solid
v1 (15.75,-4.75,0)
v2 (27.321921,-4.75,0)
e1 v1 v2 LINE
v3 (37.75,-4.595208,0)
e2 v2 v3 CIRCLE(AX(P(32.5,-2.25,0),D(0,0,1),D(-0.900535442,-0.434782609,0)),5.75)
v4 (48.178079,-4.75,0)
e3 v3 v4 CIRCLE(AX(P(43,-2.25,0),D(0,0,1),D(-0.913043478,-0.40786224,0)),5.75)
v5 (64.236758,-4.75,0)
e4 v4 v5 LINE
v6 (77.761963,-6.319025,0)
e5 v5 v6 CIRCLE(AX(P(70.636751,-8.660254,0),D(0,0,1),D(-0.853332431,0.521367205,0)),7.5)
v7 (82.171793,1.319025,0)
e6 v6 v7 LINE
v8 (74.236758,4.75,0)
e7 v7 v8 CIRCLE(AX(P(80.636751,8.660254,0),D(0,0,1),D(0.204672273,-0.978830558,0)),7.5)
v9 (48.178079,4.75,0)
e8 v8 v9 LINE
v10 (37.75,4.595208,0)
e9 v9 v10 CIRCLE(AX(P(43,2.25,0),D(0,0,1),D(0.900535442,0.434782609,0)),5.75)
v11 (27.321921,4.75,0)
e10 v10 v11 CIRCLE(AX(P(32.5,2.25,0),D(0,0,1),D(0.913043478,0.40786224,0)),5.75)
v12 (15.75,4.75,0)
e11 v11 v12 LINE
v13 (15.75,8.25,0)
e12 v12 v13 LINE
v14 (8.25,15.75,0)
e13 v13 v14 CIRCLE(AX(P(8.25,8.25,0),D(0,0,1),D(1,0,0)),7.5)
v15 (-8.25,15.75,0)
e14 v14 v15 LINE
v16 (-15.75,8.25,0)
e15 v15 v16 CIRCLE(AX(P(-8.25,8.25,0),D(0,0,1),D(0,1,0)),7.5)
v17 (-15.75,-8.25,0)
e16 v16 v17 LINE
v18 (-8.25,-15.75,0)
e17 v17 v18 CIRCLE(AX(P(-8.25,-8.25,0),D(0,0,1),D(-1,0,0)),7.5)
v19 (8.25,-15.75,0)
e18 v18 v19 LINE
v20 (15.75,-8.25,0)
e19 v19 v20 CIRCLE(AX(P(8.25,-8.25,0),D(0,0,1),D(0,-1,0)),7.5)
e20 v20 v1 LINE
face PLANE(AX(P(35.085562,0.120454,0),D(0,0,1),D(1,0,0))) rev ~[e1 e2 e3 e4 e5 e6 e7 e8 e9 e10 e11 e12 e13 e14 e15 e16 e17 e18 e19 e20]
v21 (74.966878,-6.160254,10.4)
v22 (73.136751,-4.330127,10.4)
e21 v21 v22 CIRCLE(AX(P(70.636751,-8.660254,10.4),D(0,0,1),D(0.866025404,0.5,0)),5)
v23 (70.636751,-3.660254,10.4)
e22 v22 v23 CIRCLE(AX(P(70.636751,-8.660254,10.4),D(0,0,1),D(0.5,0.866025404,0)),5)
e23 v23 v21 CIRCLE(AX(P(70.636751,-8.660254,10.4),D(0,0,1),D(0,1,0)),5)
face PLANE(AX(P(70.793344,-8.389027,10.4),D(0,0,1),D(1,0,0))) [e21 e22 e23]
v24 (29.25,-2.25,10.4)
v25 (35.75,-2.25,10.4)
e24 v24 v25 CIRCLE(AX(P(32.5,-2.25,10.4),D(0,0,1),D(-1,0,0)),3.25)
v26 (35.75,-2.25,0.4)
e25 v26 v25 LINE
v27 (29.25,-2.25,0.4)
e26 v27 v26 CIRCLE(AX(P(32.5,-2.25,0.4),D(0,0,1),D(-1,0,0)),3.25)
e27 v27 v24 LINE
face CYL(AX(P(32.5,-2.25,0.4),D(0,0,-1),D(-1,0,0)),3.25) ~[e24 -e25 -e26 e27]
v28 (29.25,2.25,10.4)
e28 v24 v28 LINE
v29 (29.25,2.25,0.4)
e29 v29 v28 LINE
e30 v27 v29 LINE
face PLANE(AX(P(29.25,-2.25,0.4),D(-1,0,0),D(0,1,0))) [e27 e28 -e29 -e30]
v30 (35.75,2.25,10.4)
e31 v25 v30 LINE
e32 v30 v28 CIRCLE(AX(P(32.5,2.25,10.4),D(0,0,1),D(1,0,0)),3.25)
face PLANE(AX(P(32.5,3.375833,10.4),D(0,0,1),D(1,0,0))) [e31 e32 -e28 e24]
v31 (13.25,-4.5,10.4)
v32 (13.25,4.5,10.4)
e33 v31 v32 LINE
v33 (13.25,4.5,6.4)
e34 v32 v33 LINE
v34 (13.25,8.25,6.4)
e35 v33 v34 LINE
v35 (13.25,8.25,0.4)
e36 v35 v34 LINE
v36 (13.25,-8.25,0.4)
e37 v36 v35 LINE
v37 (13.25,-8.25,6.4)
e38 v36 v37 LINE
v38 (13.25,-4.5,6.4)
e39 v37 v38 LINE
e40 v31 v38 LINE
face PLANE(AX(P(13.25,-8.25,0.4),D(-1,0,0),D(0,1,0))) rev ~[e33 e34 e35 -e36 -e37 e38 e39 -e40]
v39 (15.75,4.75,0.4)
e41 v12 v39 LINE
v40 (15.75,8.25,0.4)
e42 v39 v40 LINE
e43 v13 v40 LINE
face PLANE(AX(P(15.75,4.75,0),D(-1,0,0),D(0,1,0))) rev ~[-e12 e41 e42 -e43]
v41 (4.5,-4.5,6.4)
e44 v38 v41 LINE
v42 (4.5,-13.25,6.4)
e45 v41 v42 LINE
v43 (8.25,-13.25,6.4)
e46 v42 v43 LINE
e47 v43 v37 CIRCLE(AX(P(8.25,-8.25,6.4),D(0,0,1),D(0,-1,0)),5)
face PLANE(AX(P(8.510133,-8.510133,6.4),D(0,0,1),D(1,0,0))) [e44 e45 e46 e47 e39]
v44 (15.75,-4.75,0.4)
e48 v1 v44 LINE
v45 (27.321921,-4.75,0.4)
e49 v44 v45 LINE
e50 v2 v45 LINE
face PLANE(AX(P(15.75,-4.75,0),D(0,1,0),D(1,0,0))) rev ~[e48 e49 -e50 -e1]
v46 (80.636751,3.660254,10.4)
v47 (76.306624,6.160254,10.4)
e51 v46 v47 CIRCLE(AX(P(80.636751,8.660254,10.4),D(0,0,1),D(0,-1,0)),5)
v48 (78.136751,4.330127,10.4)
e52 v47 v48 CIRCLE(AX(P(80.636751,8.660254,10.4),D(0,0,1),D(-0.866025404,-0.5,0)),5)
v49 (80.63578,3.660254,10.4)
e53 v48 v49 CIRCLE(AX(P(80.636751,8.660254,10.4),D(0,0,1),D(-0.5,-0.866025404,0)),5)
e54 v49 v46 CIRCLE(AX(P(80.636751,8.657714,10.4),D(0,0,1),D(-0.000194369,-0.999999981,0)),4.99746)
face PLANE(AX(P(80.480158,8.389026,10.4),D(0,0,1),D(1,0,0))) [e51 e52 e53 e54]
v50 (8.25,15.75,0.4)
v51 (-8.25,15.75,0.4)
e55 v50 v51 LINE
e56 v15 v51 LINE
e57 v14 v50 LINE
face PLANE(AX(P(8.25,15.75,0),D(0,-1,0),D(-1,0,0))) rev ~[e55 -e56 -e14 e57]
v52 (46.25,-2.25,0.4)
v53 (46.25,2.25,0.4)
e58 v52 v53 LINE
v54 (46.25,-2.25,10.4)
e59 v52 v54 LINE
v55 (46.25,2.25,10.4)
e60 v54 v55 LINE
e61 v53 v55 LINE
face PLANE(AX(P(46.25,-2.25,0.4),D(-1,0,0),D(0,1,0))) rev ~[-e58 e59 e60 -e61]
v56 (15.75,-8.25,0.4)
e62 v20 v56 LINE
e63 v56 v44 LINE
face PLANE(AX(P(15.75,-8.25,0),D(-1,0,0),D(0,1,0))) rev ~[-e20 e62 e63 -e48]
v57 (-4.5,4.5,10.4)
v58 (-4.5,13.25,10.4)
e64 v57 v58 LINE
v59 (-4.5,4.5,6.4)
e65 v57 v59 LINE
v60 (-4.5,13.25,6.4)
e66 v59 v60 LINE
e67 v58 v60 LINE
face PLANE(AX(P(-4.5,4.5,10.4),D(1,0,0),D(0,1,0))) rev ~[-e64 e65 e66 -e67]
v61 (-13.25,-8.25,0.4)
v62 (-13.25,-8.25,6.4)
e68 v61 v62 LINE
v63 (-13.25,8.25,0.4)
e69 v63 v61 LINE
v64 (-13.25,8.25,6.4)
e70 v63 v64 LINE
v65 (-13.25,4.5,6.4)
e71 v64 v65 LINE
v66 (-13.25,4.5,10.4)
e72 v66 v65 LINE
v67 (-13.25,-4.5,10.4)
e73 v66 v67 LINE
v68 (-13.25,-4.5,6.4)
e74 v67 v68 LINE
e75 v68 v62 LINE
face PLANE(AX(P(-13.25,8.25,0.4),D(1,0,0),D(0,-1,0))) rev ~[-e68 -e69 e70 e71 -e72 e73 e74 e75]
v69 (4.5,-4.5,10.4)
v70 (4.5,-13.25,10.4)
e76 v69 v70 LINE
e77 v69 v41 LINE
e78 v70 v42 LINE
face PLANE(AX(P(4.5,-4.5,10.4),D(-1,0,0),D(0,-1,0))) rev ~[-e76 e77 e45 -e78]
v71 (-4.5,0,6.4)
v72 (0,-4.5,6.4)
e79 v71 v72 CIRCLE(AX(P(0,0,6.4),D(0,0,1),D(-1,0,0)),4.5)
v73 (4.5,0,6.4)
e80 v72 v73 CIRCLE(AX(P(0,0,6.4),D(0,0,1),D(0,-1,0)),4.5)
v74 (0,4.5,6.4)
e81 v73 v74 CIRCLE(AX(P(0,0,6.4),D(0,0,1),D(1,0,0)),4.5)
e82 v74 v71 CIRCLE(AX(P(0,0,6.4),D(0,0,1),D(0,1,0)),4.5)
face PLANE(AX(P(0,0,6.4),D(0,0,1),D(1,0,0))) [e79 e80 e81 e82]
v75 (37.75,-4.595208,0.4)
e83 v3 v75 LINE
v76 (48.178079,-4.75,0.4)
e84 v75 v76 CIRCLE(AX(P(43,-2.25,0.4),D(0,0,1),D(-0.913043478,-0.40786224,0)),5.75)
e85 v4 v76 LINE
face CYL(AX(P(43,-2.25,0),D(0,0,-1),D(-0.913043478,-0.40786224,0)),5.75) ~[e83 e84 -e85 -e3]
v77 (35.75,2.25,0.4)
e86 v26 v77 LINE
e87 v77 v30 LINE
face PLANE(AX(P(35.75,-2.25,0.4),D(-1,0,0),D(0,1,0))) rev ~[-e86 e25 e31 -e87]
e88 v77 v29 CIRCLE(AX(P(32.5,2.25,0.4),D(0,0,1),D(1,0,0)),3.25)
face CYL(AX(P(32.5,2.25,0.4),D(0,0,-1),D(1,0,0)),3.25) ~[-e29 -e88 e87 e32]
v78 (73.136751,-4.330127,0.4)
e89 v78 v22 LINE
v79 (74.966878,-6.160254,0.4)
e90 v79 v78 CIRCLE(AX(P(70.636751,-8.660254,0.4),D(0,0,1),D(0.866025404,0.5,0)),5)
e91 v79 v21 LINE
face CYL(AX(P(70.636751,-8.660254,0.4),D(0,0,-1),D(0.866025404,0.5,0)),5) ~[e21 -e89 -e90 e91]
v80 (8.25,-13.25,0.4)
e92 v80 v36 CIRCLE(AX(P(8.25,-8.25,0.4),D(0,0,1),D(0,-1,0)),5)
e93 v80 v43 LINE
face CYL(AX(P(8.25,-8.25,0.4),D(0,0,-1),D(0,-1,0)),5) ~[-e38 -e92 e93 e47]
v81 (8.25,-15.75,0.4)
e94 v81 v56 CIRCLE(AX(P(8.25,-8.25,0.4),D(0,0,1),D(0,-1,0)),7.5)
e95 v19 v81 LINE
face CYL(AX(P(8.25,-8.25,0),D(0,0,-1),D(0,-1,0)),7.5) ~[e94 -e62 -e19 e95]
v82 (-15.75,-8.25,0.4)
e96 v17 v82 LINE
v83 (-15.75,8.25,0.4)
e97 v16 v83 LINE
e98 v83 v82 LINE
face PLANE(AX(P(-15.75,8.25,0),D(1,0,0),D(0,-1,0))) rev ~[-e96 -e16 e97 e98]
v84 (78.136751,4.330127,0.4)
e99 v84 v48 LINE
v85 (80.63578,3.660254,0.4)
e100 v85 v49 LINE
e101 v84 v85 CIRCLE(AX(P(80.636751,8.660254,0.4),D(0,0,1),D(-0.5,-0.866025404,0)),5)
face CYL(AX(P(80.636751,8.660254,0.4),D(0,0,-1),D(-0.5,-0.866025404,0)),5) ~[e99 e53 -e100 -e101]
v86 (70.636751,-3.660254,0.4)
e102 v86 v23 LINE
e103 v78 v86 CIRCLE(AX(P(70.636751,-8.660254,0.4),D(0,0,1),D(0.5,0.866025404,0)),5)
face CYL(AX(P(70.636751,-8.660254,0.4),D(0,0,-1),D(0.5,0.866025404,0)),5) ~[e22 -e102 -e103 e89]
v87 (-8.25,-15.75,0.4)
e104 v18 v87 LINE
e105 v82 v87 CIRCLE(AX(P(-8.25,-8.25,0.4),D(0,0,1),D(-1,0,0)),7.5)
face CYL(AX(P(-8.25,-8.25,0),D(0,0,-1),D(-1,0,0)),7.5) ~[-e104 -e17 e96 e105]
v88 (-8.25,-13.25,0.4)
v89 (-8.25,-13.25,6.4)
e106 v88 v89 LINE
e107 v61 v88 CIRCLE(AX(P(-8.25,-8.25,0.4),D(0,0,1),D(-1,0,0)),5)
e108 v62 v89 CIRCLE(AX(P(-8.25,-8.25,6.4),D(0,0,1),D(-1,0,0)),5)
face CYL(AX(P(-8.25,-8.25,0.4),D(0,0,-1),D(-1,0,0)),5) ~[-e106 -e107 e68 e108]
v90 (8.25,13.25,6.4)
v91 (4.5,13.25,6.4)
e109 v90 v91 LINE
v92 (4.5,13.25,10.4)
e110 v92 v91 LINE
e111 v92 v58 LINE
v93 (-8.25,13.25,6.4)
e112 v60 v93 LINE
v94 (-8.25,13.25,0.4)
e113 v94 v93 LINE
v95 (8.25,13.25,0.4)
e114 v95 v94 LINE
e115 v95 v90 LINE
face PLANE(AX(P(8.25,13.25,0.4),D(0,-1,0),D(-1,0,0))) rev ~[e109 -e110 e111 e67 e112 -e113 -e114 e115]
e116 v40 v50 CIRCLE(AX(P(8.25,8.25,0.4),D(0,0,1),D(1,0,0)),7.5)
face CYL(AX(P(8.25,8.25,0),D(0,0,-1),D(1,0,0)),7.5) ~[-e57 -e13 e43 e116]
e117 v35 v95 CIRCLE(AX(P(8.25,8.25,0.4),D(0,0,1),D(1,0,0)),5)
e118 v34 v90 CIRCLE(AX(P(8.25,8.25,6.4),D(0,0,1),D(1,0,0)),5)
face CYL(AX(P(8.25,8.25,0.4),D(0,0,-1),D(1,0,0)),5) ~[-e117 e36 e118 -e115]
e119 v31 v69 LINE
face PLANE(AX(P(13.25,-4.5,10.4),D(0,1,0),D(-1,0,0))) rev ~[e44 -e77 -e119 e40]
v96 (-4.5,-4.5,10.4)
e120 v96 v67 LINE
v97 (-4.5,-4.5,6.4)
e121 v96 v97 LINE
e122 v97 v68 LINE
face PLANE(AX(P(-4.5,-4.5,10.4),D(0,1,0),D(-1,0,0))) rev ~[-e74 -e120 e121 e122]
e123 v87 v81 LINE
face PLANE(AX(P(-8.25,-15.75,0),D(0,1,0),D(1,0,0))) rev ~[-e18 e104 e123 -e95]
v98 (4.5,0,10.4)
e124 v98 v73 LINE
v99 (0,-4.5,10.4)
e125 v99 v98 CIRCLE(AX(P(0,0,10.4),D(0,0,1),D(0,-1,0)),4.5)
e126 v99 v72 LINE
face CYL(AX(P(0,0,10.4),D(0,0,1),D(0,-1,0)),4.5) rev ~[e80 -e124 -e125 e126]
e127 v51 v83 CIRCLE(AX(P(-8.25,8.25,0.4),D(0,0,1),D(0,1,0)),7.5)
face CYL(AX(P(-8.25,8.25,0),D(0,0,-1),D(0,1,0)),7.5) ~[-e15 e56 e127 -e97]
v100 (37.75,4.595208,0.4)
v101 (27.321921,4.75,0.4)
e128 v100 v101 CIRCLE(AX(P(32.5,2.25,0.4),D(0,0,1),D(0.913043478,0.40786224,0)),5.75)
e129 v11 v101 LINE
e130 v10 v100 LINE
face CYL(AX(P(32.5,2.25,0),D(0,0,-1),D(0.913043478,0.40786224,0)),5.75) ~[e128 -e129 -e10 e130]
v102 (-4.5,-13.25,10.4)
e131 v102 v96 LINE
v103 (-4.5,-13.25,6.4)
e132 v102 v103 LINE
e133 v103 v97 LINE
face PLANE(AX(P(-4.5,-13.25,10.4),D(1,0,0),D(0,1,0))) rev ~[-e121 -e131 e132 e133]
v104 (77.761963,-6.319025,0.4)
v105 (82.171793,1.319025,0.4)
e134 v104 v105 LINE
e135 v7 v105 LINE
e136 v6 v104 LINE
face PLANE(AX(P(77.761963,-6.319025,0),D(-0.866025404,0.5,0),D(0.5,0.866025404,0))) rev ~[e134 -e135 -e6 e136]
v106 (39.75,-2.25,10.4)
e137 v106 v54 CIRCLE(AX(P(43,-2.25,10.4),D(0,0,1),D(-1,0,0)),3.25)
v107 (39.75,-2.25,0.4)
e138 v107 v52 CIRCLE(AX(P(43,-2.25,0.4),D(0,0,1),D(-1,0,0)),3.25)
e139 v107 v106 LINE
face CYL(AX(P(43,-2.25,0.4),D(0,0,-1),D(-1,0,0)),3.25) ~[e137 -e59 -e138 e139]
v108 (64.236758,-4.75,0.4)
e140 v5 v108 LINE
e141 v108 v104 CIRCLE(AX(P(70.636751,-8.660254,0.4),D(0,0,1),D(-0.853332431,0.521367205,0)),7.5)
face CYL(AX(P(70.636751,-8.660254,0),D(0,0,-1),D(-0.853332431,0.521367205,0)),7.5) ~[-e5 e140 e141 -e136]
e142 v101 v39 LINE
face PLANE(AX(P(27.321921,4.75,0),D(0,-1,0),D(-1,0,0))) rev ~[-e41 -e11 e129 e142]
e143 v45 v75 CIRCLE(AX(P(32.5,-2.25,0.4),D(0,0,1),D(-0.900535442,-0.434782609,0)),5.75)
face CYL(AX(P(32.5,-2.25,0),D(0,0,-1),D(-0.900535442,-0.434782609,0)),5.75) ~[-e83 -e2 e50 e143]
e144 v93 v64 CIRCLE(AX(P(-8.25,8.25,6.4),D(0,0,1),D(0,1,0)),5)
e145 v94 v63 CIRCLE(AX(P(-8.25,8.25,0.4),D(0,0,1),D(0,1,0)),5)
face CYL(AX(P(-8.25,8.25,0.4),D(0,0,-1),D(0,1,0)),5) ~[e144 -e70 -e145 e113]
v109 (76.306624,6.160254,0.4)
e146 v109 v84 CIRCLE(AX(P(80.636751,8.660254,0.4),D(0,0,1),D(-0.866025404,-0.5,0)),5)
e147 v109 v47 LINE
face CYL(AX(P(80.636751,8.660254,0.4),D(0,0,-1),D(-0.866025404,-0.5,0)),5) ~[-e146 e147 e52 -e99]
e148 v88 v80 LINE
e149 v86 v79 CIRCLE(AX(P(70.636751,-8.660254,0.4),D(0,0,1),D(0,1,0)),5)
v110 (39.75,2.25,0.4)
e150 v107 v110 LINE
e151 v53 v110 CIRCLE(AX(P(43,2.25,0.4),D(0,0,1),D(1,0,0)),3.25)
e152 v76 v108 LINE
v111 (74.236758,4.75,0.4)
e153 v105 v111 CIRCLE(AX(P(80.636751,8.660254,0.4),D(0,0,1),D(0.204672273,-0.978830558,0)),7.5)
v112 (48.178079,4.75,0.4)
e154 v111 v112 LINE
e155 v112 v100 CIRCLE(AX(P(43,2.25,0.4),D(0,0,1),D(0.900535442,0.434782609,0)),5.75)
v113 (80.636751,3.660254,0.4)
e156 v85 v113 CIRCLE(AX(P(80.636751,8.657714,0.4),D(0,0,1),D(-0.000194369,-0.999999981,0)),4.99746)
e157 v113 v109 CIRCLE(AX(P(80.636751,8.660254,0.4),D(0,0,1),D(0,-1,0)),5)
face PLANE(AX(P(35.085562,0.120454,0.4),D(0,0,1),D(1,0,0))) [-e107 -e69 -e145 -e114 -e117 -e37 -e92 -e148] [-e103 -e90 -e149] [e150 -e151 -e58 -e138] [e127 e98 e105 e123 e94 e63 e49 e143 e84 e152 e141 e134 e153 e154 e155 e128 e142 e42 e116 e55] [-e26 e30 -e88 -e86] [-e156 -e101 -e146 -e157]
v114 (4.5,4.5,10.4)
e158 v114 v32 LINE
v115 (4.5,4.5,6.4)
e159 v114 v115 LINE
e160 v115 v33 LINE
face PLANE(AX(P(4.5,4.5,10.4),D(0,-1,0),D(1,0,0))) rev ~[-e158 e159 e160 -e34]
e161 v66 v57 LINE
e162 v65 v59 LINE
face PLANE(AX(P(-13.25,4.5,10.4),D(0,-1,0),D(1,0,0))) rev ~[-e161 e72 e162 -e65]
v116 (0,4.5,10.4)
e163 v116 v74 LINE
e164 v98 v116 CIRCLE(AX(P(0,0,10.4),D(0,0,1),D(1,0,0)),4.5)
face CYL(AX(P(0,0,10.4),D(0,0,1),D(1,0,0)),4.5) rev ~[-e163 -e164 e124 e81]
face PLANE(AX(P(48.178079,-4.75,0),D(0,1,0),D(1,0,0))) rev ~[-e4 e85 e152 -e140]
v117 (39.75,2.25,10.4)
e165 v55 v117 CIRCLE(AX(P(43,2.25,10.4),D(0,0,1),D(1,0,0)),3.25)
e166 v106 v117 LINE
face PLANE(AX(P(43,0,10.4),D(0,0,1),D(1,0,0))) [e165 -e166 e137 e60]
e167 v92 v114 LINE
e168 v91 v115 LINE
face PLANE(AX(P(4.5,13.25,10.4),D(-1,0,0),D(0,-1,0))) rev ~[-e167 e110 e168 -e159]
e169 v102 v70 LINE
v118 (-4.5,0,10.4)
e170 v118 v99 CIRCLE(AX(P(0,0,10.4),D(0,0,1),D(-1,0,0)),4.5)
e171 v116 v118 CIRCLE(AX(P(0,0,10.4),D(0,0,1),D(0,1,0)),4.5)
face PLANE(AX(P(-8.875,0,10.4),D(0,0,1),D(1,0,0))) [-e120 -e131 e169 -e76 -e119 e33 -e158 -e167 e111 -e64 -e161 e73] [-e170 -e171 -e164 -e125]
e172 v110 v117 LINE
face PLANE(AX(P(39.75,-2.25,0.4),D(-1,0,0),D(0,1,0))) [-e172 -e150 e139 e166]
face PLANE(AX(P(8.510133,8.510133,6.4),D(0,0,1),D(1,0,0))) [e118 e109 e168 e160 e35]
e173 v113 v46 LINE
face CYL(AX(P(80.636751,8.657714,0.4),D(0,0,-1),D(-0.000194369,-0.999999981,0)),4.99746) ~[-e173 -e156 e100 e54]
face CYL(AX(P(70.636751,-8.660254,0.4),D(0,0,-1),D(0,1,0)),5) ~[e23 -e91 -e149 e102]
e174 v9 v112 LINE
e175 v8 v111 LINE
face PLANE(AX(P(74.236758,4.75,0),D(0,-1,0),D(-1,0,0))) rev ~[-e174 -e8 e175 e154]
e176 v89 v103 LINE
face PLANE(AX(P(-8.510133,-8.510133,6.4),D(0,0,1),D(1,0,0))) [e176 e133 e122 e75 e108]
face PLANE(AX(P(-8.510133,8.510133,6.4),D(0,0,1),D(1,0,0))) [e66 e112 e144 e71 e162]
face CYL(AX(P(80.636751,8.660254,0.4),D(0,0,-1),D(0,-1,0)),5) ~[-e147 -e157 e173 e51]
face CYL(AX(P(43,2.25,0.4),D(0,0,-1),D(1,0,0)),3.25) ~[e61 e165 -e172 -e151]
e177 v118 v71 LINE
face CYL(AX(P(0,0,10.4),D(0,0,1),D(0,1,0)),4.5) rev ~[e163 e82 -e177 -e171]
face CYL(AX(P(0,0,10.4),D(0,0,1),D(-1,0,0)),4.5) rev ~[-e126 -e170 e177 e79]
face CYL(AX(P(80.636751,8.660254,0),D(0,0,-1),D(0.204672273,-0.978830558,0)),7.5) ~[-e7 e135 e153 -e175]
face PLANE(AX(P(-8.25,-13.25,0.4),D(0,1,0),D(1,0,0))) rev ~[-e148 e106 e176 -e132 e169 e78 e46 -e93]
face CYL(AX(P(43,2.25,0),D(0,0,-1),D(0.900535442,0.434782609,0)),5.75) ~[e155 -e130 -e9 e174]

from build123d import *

# Parameters (mm, degrees)
F0_W     = 16
F0_H     = 4.5
F0_W_2   = 6.5
F0_W_3   = 4
F1_DEPTH = 0.4
F2_W     = 6.5
F2_H     = 4.5
F3_DEPTH = 10
F5_DEPTH = 4


with BuildPart() as f1:
    # F0 (on Top) → F1 (new body)
    with BuildSketch(Plane.XY):
        with BuildLine():
            Line((15.75, 4.75), (15.75, 8.25))
            ThreePointArc((15.75, 8.25), (13.5533008589, 13.5533008589), (8.25, 15.75))
            Line((8.25, 15.75), (-8.25, 15.75))
            ThreePointArc((-8.25, 15.75), (-13.5533008589, 13.5533008589), (-15.75, 8.25))
            Line((-15.75, 8.25), (-15.75, -8.25))
            ThreePointArc((-15.75, -8.25), (-13.5533008589, -13.5533008589), (-8.25, -15.75))
            Line((-8.25, -15.75), (8.25, -15.75))
            ThreePointArc((8.25, -15.75), (13.5533008589, -13.5533008589), (15.75, -8.25))
            Line((15.75, -8.25), (15.75, -4.75))
            Line((15.75, -4.75), (27.3219212057, -4.75))
            ThreePointArc((27.3219212057, -4.75), (32.5853423404, -7.9993666334), (37.75, -4.5952078799))
            ThreePointArc((37.75, -4.5952078799), (42.9146576596, -7.9993666334), (48.1780787943, -4.75))
            Line((48.1780787943, -4.75), (64.2367581147, -4.75))
            ThreePointArc((64.2367581147, -4.75), (69.772491367, -16.1102912652), (77.7619633367, -6.3190248551))
            Line((77.7619633367, -6.3190248551), (82.171793393, 1.3190248551))
            ThreePointArc((82.171793393, 1.3190248551), (83.6132988623, 15.5443055254), (74.2367581147, 4.75))
            Line((74.2367581147, 4.75), (48.1780787943, 4.75))
            ThreePointArc((48.1780787943, 4.75), (42.9146576596, 7.9993666334), (37.75, 4.5952078799))
            ThreePointArc((37.75, 4.5952078799), (32.5853423404, 7.9993666334), (27.3219212057, 4.75))
            Line((27.3219212057, 4.75), (15.75, 4.75))
        make_face()
        with BuildLine():
            ThreePointArc((-13.25, 8.25), (-11.7855339059, 11.7855339059), (-8.25, 13.25))
            Line((-8.25, 13.25), (-4.5, 13.25))
            Line((-4.5, 13.25), (4.5, 13.25))
            Line((4.5, 13.25), (8.25, 13.25))
            ThreePointArc((8.25, 13.25), (11.7855339059, 11.7855339059), (13.25, 8.25))
            Line((13.25, 8.25), (13.25, 4.5))
            Line((13.25, 4.5), (13.25, 2.25))
            Line((13.25, 2.25), (29.25, 2.25))
            ThreePointArc((29.25, 2.25), (32.5, 5.5), (35.75, 2.25))
            Line((35.75, 2.25), (39.75, 2.25))
            ThreePointArc((39.75, 2.25), (43, 5.5), (46.25, 2.25))
            Line((46.25, 2.25), (74.0490381057, 2.25))
            Line((74.0490381057, 2.25), (76.306624327, 6.1602540378))
            ThreePointArc((76.306624327, 6.1602540378), (83.1367513459, 12.9903810568), (80.6367513459, 3.6602540378))
            Line((80.6367513459, 3.6602540378), (74.9668783649, -6.1602540378))
            ThreePointArc((74.9668783649, -6.1602540378), (68.1367513459, -12.9903810568), (70.6367513459, -3.6602540378))
            Line((70.6367513459, -3.6602540378), (71.4509618943, -2.25))
            Line((71.4509618943, -2.25), (46.25, -2.25))
            ThreePointArc((46.25, -2.25), (43, -5.5), (39.75, -2.25))
            Line((39.75, -2.25), (35.75, -2.25))
            ThreePointArc((35.75, -2.25), (32.5, -5.5), (29.25, -2.25))
            Line((29.25, -2.25), (13.25, -2.25))
            Line((13.25, -2.25), (13.25, -4.5))
            Line((13.25, -4.5), (13.25, -8.25))
            ThreePointArc((13.25, -8.25), (11.7855339059, -11.7855339059), (8.25, -13.25))
            Line((8.25, -13.25), (4.5, -13.25))
            Line((4.5, -13.25), (-4.5, -13.25))
            Line((-4.5, -13.25), (-8.25, -13.25))
            ThreePointArc((-8.25, -13.25), (-11.7855339059, -11.7855339059), (-13.25, -8.25))
            Line((-13.25, -8.25), (-13.25, -4.5))
            Line((-13.25, -4.5), (-13.25, 4.5))
            Line((-13.25, 4.5), (-13.25, 8.25))
        make_face(mode=Mode.SUBTRACT)
        Polygon((74.0490381057, 2.25), (46.25, 2.25), (46.25, -2.25), (71.4509618943, -2.25), align=None)
        Polygon((13.25, 4.5), (4.5, 4.5), (4.5, 0), (4.5, -4.5), (13.25, -4.5), (13.25, -2.25), (13.25, 2.25), align=None)
        Polygon((-4.5, 0), (-4.5, 4.5), (-13.25, 4.5), (-13.25, -4.5), (-4.5, -4.5), align=None)
        Polygon((4.5, -4.5), (0, -4.5), (-4.5, -4.5), (-4.5, -13.25), (4.5, -13.25), align=None)
        Polygon((4.5, 13.25), (-4.5, 13.25), (-4.5, 4.5), (0, 4.5), (4.5, 4.5), align=None)
        with BuildLine():
            ThreePointArc((74.9668783649, -6.1602540378), (73.1367513459, -4.3301270189), (70.6367513459, -3.6602540378))
            ThreePointArc((70.6367513459, -3.6602540378), (68.1367513459, -12.9903810568), (74.9668783649, -6.1602540378))
        make_face()
        with BuildLine():
            ThreePointArc((80.6367513459, 3.6602540378), (83.1367513459, 12.9903810568), (76.306624327, 6.1602540378))
            ThreePointArc((76.306624327, 6.1602540378), (78.1363307509, 4.3303698768), (80.6357799962, 3.6602541322))
            ThreePointArc((80.6357799962, 3.6602541322), (80.6362656711, 3.6602540614), (80.6367513459, 3.6602540378))
        make_face()
        with Locations((21.25, 0)):
            Rectangle(F0_W, F0_H)
        with BuildLine():
            Line((-4.5, -4.5), (-13.25, -4.5))
            Line((-13.25, -4.5), (-13.25, -8.25))
            ThreePointArc((-13.25, -8.25), (-11.7855339059, -11.7855339059), (-8.25, -13.25))
            Line((-8.25, -13.25), (-4.5, -13.25))
            Line((-4.5, -13.25), (-4.5, -4.5))
        make_face()
        with BuildLine():
            Line((13.25, -4.5), (4.5, -4.5))
            Line((4.5, -4.5), (4.5, -13.25))
            Line((4.5, -13.25), (8.25, -13.25))
            ThreePointArc((8.25, -13.25), (11.7855339059, -11.7855339059), (13.25, -8.25))
            Line((13.25, -8.25), (13.25, -4.5))
        make_face()
        with BuildLine():
            Line((8.25, 13.25), (4.5, 13.25))
            Line((4.5, 13.25), (4.5, 4.5))
            Line((4.5, 4.5), (13.25, 4.5))
            Line((13.25, 4.5), (13.25, 8.25))
            ThreePointArc((13.25, 8.25), (11.7855339059, 11.7855339059), (8.25, 13.25))
        make_face()
        with BuildLine():
            Line((-4.5, 13.25), (-8.25, 13.25))
            ThreePointArc((-8.25, 13.25), (-11.7855339059, 11.7855339059), (-13.25, 8.25))
            Line((-13.25, 8.25), (-13.25, 4.5))
            Line((-13.25, 4.5), (-4.5, 4.5))
            Line((-4.5, 4.5), (-4.5, 13.25))
        make_face()
        with BuildLine():
            ThreePointArc((0, 4.5), (-3.1819805153, 3.1819805153), (-4.5, 0))
            ThreePointArc((-4.5, 0), (-3.1819805153, -3.1819805153), (0, -4.5))
            ThreePointArc((0, -4.5), (3.1819805153, -3.1819805153), (4.5, 0))
            ThreePointArc((4.5, 0), (3.1819805153, 3.1819805153), (0, 4.5))
        make_face()
        with BuildLine():
            Line((76.306624327, 6.1602540378), (74.0490381057, 2.25))
            Line((74.0490381057, 2.25), (71.4509618943, -2.25))
            Line((71.4509618943, -2.25), (70.6367513459, -3.6602540378))
            ThreePointArc((70.6367513459, -3.6602540378), (73.1367513459, -4.3301270189), (74.9668783649, -6.1602540378))
            Line((74.9668783649, -6.1602540378), (80.6367513459, 3.6602540378))
            ThreePointArc((80.6367513459, 3.6602540378), (80.6362656711, 3.6602540614), (80.6357799962, 3.6602541322))
            ThreePointArc((80.6357799962, 3.6602541322), (78.1363307509, 4.3303698768), (76.306624327, 6.1602540378))
        make_face()
        with Locations((32.5, 0)):
            Rectangle(F0_W_2, F0_H)
        with Locations((43, 0)):
            Rectangle(F0_W_2, F0_H)
        with Locations((37.75, 0)):
            Rectangle(F0_W_3, F0_H)
        with BuildLine():
            ThreePointArc((35.75, 2.25), (32.5, 5.5), (29.25, 2.25))
            Line((29.25, 2.25), (35.75, 2.25))
        make_face()
        with BuildLine():
            ThreePointArc((46.25, 2.25), (43, 5.5), (39.75, 2.25))
            Line((39.75, 2.25), (46.25, 2.25))
        make_face()
        with BuildLine():
            Line((35.75, -2.25), (29.25, -2.25))
            ThreePointArc((29.25, -2.25), (32.5, -5.5), (35.75, -2.25))
        make_face()
        with BuildLine():
            Line((46.25, -2.25), (39.75, -2.25))
            ThreePointArc((39.75, -2.25), (43, -5.5), (46.25, -2.25))
        make_face()
        with BuildLine():
            ThreePointArc((0, -4.5), (-3.1819805153, -3.1819805153), (-4.5, 0))
            Line((-4.5, 0), (-4.5, -4.5))
            Line((-4.5, -4.5), (0, -4.5))
        make_face()
        with BuildLine():
            Line((0, 4.5), (-4.5, 4.5))
            Line((-4.5, 4.5), (-4.5, 0))
            ThreePointArc((-4.5, 0), (-3.1819805153, 3.1819805153), (0, 4.5))
        make_face()
        with BuildLine():
            Line((4.5, 0), (4.5, 4.5))
            Line((4.5, 4.5), (0, 4.5))
            ThreePointArc((0, 4.5), (3.1819805153, 3.1819805153), (4.5, 0))
        make_face()
        with BuildLine():
            Line((4.5, -4.5), (4.5, 0))
            ThreePointArc((4.5, 0), (3.1819805153, -3.1819805153), (0, -4.5))
            Line((0, -4.5), (4.5, -4.5))
        make_face()
    extrude(amount=F1_DEPTH)

    # F2 (on face) → F3 (join)
    with BuildSketch(Plane.XY.offset(0.4)):
        Polygon((-4.5, 0), (-4.5, 4.5), (-13.25, 4.5), (-13.25, -4.5), (-4.5, -4.5), align=None)
        with BuildLine():
            ThreePointArc((35.75, 2.25), (32.5, 5.5), (29.25, 2.25))
            Line((29.25, 2.25), (35.75, 2.25))
        make_face()
        with Locations((32.5, 0)):
            Rectangle(F2_W, F2_H)
        with BuildLine():
            Line((35.75, -2.25), (29.25, -2.25))
            ThreePointArc((29.25, -2.25), (32.5, -5.5), (35.75, -2.25))
        make_face()
        with BuildLine():
            Line((-4.5, -4.5), (-13.25, -4.5))
            Line((-13.25, -4.5), (-13.25, -8.25))
            ThreePointArc((-13.25, -8.25), (-11.7855339059, -11.7855339059), (-8.25, -13.25))
            Line((-8.25, -13.25), (-4.5, -13.25))
            Line((-4.5, -13.25), (-4.5, -4.5))
        make_face()
        Polygon((4.5, -4.5), (0, -4.5), (-4.5, -4.5), (-4.5, -13.25), (4.5, -13.25), align=None)
        with BuildLine():
            Line((13.25, -4.5), (4.5, -4.5))
            Line((4.5, -4.5), (4.5, -13.25))
            Line((4.5, -13.25), (8.25, -13.25))
            ThreePointArc((8.25, -13.25), (11.7855339059, -11.7855339059), (13.25, -8.25))
            Line((13.25, -8.25), (13.25, -4.5))
        make_face()
        Polygon((13.25, 4.5), (4.5, 4.5), (4.5, 0), (4.5, -4.5), (13.25, -4.5), (13.25, -2.25), (13.25, 2.25), align=None)
        with BuildLine():
            ThreePointArc((0, 4.5), (-3.1819805153, 3.1819805153), (-4.5, 0))
            ThreePointArc((-4.5, 0), (-3.1819805153, -3.1819805153), (0, -4.5))
            ThreePointArc((0, -4.5), (3.1819805153, -3.1819805153), (4.5, 0))
            ThreePointArc((4.5, 0), (3.1819805153, 3.1819805153), (0, 4.5))
        make_face()
        with BuildLine():
            Line((4.5, -4.5), (4.5, 0))
            ThreePointArc((4.5, 0), (3.1819805153, -3.1819805153), (0, -4.5))
            Line((0, -4.5), (4.5, -4.5))
        make_face()
        with BuildLine():
            ThreePointArc((0, -4.5), (-3.1819805153, -3.1819805153), (-4.5, 0))
            Line((-4.5, 0), (-4.5, -4.5))
            Line((-4.5, -4.5), (0, -4.5))
        make_face()
        with BuildLine():
            Line((0, 4.5), (-4.5, 4.5))
            Line((-4.5, 4.5), (-4.5, 0))
            ThreePointArc((-4.5, 0), (-3.1819805153, 3.1819805153), (0, 4.5))
        make_face()
        Polygon((4.5, 13.25), (-4.5, 13.25), (-4.5, 4.5), (0, 4.5), (4.5, 4.5), align=None)
        with BuildLine():
            Line((-4.5, 13.25), (-8.25, 13.25))
            ThreePointArc((-8.25, 13.25), (-11.7855339059, 11.7855339059), (-13.25, 8.25))
            Line((-13.25, 8.25), (-13.25, 4.5))
            Line((-13.25, 4.5), (-4.5, 4.5))
            Line((-4.5, 4.5), (-4.5, 13.25))
        make_face()
        with BuildLine():
            Line((8.25, 13.25), (4.5, 13.25))
            Line((4.5, 13.25), (4.5, 4.5))
            Line((4.5, 4.5), (13.25, 4.5))
            Line((13.25, 4.5), (13.25, 8.25))
            ThreePointArc((13.25, 8.25), (11.7855339059, 11.7855339059), (8.25, 13.25))
        make_face()
        with BuildLine():
            Line((4.5, 0), (4.5, 4.5))
            Line((4.5, 4.5), (0, 4.5))
            ThreePointArc((0, 4.5), (3.1819805153, 3.1819805153), (4.5, 0))
        make_face()
        with Locations((43, 0)):
            Rectangle(F2_W, F2_H)
        with BuildLine():
            ThreePointArc((46.25, 2.25), (43, 5.5), (39.75, 2.25))
            Line((39.75, 2.25), (46.25, 2.25))
        make_face()
        with BuildLine():
            Line((46.25, -2.25), (39.75, -2.25))
            ThreePointArc((39.75, -2.25), (43, -5.5), (46.25, -2.25))
        make_face()
        with BuildLine():
            ThreePointArc((73.1367513459, -4.3301270189), (71.9308465715, -3.8306249064), (70.6367513459, -3.6602540378))
            ThreePointArc((70.6367513459, -3.6602540378), (68.1367513459, -12.9903810568), (74.9668783649, -6.1602540378))
            ThreePointArc((74.9668783649, -6.1602540378), (74.1722852519, -5.1247201319), (73.1367513459, -4.3301270189))
        make_face()
        with BuildLine():
            ThreePointArc((80.6367513459, 3.6602540378), (83.1367513459, 12.9903810568), (76.306624327, 6.1602540378))
            ThreePointArc((76.306624327, 6.1602540378), (77.10121744, 5.1247201319), (78.1367513459, 4.3301270189))
            ThreePointArc((78.1367513459, 4.3301270189), (79.3421870006, 3.8307506311), (80.6357799962, 3.6602541322))
            ThreePointArc((80.6357799962, 3.6602541322), (80.6362656711, 3.6602540614), (80.6367513459, 3.6602540378))
        make_face()
    extrude(amount=F3_DEPTH)

    # F4 (on face) → F5 (cut)
    with BuildSketch(Plane.XY.offset(10.4)):
        with BuildLine():
            Line((13.25, -4.5), (4.5, -4.5))
            Line((4.5, -4.5), (4.5, -13.25))
            Line((4.5, -13.25), (8.25, -13.25))
            ThreePointArc((8.25, -13.25), (11.7855339059, -11.7855339059), (13.25, -8.25))
            Line((13.25, -8.25), (13.25, -4.5))
        make_face()
        with BuildLine():
            Line((-4.5, -4.5), (-13.25, -4.5))
            Line((-13.25, -4.5), (-13.25, -8.25))
            ThreePointArc((-13.25, -8.25), (-11.7855339059, -11.7855339059), (-8.25, -13.25))
            Line((-8.25, -13.25), (-4.5, -13.25))
            Line((-4.5, -13.25), (-4.5, -4.5))
        make_face()
        with BuildLine():
            Line((-4.5, 13.25), (-8.25, 13.25))
            ThreePointArc((-8.25, 13.25), (-11.7855339059, 11.7855339059), (-13.25, 8.25))
            Line((-13.25, 8.25), (-13.25, 4.5))
            Line((-13.25, 4.5), (-4.5, 4.5))
            Line((-4.5, 4.5), (-4.5, 13.25))
        make_face()
        with BuildLine():
            Line((8.25, 13.25), (4.5, 13.25))
            Line((4.5, 13.25), (4.5, 4.5))
            Line((4.5, 4.5), (13.25, 4.5))
            Line((13.25, 4.5), (13.25, 8.25))
            ThreePointArc((13.25, 8.25), (11.7855339059, 11.7855339059), (8.25, 13.25))
        make_face()
        with BuildLine():
            ThreePointArc((0, 4.5), (-3.1819805153, 3.1819805153), (-4.5, 0))
            ThreePointArc((-4.5, 0), (-3.1819805153, -3.1819805153), (0, -4.5))
            ThreePointArc((0, -4.5), (3.1819805153, -3.1819805153), (4.5, 0))
            ThreePointArc((4.5, 0), (3.1819805153, 3.1819805153), (0, 4.5))
        make_face()
    extrude(amount=-F5_DEPTH, mode=Mode.SUBTRACT)


solid = f1.part
